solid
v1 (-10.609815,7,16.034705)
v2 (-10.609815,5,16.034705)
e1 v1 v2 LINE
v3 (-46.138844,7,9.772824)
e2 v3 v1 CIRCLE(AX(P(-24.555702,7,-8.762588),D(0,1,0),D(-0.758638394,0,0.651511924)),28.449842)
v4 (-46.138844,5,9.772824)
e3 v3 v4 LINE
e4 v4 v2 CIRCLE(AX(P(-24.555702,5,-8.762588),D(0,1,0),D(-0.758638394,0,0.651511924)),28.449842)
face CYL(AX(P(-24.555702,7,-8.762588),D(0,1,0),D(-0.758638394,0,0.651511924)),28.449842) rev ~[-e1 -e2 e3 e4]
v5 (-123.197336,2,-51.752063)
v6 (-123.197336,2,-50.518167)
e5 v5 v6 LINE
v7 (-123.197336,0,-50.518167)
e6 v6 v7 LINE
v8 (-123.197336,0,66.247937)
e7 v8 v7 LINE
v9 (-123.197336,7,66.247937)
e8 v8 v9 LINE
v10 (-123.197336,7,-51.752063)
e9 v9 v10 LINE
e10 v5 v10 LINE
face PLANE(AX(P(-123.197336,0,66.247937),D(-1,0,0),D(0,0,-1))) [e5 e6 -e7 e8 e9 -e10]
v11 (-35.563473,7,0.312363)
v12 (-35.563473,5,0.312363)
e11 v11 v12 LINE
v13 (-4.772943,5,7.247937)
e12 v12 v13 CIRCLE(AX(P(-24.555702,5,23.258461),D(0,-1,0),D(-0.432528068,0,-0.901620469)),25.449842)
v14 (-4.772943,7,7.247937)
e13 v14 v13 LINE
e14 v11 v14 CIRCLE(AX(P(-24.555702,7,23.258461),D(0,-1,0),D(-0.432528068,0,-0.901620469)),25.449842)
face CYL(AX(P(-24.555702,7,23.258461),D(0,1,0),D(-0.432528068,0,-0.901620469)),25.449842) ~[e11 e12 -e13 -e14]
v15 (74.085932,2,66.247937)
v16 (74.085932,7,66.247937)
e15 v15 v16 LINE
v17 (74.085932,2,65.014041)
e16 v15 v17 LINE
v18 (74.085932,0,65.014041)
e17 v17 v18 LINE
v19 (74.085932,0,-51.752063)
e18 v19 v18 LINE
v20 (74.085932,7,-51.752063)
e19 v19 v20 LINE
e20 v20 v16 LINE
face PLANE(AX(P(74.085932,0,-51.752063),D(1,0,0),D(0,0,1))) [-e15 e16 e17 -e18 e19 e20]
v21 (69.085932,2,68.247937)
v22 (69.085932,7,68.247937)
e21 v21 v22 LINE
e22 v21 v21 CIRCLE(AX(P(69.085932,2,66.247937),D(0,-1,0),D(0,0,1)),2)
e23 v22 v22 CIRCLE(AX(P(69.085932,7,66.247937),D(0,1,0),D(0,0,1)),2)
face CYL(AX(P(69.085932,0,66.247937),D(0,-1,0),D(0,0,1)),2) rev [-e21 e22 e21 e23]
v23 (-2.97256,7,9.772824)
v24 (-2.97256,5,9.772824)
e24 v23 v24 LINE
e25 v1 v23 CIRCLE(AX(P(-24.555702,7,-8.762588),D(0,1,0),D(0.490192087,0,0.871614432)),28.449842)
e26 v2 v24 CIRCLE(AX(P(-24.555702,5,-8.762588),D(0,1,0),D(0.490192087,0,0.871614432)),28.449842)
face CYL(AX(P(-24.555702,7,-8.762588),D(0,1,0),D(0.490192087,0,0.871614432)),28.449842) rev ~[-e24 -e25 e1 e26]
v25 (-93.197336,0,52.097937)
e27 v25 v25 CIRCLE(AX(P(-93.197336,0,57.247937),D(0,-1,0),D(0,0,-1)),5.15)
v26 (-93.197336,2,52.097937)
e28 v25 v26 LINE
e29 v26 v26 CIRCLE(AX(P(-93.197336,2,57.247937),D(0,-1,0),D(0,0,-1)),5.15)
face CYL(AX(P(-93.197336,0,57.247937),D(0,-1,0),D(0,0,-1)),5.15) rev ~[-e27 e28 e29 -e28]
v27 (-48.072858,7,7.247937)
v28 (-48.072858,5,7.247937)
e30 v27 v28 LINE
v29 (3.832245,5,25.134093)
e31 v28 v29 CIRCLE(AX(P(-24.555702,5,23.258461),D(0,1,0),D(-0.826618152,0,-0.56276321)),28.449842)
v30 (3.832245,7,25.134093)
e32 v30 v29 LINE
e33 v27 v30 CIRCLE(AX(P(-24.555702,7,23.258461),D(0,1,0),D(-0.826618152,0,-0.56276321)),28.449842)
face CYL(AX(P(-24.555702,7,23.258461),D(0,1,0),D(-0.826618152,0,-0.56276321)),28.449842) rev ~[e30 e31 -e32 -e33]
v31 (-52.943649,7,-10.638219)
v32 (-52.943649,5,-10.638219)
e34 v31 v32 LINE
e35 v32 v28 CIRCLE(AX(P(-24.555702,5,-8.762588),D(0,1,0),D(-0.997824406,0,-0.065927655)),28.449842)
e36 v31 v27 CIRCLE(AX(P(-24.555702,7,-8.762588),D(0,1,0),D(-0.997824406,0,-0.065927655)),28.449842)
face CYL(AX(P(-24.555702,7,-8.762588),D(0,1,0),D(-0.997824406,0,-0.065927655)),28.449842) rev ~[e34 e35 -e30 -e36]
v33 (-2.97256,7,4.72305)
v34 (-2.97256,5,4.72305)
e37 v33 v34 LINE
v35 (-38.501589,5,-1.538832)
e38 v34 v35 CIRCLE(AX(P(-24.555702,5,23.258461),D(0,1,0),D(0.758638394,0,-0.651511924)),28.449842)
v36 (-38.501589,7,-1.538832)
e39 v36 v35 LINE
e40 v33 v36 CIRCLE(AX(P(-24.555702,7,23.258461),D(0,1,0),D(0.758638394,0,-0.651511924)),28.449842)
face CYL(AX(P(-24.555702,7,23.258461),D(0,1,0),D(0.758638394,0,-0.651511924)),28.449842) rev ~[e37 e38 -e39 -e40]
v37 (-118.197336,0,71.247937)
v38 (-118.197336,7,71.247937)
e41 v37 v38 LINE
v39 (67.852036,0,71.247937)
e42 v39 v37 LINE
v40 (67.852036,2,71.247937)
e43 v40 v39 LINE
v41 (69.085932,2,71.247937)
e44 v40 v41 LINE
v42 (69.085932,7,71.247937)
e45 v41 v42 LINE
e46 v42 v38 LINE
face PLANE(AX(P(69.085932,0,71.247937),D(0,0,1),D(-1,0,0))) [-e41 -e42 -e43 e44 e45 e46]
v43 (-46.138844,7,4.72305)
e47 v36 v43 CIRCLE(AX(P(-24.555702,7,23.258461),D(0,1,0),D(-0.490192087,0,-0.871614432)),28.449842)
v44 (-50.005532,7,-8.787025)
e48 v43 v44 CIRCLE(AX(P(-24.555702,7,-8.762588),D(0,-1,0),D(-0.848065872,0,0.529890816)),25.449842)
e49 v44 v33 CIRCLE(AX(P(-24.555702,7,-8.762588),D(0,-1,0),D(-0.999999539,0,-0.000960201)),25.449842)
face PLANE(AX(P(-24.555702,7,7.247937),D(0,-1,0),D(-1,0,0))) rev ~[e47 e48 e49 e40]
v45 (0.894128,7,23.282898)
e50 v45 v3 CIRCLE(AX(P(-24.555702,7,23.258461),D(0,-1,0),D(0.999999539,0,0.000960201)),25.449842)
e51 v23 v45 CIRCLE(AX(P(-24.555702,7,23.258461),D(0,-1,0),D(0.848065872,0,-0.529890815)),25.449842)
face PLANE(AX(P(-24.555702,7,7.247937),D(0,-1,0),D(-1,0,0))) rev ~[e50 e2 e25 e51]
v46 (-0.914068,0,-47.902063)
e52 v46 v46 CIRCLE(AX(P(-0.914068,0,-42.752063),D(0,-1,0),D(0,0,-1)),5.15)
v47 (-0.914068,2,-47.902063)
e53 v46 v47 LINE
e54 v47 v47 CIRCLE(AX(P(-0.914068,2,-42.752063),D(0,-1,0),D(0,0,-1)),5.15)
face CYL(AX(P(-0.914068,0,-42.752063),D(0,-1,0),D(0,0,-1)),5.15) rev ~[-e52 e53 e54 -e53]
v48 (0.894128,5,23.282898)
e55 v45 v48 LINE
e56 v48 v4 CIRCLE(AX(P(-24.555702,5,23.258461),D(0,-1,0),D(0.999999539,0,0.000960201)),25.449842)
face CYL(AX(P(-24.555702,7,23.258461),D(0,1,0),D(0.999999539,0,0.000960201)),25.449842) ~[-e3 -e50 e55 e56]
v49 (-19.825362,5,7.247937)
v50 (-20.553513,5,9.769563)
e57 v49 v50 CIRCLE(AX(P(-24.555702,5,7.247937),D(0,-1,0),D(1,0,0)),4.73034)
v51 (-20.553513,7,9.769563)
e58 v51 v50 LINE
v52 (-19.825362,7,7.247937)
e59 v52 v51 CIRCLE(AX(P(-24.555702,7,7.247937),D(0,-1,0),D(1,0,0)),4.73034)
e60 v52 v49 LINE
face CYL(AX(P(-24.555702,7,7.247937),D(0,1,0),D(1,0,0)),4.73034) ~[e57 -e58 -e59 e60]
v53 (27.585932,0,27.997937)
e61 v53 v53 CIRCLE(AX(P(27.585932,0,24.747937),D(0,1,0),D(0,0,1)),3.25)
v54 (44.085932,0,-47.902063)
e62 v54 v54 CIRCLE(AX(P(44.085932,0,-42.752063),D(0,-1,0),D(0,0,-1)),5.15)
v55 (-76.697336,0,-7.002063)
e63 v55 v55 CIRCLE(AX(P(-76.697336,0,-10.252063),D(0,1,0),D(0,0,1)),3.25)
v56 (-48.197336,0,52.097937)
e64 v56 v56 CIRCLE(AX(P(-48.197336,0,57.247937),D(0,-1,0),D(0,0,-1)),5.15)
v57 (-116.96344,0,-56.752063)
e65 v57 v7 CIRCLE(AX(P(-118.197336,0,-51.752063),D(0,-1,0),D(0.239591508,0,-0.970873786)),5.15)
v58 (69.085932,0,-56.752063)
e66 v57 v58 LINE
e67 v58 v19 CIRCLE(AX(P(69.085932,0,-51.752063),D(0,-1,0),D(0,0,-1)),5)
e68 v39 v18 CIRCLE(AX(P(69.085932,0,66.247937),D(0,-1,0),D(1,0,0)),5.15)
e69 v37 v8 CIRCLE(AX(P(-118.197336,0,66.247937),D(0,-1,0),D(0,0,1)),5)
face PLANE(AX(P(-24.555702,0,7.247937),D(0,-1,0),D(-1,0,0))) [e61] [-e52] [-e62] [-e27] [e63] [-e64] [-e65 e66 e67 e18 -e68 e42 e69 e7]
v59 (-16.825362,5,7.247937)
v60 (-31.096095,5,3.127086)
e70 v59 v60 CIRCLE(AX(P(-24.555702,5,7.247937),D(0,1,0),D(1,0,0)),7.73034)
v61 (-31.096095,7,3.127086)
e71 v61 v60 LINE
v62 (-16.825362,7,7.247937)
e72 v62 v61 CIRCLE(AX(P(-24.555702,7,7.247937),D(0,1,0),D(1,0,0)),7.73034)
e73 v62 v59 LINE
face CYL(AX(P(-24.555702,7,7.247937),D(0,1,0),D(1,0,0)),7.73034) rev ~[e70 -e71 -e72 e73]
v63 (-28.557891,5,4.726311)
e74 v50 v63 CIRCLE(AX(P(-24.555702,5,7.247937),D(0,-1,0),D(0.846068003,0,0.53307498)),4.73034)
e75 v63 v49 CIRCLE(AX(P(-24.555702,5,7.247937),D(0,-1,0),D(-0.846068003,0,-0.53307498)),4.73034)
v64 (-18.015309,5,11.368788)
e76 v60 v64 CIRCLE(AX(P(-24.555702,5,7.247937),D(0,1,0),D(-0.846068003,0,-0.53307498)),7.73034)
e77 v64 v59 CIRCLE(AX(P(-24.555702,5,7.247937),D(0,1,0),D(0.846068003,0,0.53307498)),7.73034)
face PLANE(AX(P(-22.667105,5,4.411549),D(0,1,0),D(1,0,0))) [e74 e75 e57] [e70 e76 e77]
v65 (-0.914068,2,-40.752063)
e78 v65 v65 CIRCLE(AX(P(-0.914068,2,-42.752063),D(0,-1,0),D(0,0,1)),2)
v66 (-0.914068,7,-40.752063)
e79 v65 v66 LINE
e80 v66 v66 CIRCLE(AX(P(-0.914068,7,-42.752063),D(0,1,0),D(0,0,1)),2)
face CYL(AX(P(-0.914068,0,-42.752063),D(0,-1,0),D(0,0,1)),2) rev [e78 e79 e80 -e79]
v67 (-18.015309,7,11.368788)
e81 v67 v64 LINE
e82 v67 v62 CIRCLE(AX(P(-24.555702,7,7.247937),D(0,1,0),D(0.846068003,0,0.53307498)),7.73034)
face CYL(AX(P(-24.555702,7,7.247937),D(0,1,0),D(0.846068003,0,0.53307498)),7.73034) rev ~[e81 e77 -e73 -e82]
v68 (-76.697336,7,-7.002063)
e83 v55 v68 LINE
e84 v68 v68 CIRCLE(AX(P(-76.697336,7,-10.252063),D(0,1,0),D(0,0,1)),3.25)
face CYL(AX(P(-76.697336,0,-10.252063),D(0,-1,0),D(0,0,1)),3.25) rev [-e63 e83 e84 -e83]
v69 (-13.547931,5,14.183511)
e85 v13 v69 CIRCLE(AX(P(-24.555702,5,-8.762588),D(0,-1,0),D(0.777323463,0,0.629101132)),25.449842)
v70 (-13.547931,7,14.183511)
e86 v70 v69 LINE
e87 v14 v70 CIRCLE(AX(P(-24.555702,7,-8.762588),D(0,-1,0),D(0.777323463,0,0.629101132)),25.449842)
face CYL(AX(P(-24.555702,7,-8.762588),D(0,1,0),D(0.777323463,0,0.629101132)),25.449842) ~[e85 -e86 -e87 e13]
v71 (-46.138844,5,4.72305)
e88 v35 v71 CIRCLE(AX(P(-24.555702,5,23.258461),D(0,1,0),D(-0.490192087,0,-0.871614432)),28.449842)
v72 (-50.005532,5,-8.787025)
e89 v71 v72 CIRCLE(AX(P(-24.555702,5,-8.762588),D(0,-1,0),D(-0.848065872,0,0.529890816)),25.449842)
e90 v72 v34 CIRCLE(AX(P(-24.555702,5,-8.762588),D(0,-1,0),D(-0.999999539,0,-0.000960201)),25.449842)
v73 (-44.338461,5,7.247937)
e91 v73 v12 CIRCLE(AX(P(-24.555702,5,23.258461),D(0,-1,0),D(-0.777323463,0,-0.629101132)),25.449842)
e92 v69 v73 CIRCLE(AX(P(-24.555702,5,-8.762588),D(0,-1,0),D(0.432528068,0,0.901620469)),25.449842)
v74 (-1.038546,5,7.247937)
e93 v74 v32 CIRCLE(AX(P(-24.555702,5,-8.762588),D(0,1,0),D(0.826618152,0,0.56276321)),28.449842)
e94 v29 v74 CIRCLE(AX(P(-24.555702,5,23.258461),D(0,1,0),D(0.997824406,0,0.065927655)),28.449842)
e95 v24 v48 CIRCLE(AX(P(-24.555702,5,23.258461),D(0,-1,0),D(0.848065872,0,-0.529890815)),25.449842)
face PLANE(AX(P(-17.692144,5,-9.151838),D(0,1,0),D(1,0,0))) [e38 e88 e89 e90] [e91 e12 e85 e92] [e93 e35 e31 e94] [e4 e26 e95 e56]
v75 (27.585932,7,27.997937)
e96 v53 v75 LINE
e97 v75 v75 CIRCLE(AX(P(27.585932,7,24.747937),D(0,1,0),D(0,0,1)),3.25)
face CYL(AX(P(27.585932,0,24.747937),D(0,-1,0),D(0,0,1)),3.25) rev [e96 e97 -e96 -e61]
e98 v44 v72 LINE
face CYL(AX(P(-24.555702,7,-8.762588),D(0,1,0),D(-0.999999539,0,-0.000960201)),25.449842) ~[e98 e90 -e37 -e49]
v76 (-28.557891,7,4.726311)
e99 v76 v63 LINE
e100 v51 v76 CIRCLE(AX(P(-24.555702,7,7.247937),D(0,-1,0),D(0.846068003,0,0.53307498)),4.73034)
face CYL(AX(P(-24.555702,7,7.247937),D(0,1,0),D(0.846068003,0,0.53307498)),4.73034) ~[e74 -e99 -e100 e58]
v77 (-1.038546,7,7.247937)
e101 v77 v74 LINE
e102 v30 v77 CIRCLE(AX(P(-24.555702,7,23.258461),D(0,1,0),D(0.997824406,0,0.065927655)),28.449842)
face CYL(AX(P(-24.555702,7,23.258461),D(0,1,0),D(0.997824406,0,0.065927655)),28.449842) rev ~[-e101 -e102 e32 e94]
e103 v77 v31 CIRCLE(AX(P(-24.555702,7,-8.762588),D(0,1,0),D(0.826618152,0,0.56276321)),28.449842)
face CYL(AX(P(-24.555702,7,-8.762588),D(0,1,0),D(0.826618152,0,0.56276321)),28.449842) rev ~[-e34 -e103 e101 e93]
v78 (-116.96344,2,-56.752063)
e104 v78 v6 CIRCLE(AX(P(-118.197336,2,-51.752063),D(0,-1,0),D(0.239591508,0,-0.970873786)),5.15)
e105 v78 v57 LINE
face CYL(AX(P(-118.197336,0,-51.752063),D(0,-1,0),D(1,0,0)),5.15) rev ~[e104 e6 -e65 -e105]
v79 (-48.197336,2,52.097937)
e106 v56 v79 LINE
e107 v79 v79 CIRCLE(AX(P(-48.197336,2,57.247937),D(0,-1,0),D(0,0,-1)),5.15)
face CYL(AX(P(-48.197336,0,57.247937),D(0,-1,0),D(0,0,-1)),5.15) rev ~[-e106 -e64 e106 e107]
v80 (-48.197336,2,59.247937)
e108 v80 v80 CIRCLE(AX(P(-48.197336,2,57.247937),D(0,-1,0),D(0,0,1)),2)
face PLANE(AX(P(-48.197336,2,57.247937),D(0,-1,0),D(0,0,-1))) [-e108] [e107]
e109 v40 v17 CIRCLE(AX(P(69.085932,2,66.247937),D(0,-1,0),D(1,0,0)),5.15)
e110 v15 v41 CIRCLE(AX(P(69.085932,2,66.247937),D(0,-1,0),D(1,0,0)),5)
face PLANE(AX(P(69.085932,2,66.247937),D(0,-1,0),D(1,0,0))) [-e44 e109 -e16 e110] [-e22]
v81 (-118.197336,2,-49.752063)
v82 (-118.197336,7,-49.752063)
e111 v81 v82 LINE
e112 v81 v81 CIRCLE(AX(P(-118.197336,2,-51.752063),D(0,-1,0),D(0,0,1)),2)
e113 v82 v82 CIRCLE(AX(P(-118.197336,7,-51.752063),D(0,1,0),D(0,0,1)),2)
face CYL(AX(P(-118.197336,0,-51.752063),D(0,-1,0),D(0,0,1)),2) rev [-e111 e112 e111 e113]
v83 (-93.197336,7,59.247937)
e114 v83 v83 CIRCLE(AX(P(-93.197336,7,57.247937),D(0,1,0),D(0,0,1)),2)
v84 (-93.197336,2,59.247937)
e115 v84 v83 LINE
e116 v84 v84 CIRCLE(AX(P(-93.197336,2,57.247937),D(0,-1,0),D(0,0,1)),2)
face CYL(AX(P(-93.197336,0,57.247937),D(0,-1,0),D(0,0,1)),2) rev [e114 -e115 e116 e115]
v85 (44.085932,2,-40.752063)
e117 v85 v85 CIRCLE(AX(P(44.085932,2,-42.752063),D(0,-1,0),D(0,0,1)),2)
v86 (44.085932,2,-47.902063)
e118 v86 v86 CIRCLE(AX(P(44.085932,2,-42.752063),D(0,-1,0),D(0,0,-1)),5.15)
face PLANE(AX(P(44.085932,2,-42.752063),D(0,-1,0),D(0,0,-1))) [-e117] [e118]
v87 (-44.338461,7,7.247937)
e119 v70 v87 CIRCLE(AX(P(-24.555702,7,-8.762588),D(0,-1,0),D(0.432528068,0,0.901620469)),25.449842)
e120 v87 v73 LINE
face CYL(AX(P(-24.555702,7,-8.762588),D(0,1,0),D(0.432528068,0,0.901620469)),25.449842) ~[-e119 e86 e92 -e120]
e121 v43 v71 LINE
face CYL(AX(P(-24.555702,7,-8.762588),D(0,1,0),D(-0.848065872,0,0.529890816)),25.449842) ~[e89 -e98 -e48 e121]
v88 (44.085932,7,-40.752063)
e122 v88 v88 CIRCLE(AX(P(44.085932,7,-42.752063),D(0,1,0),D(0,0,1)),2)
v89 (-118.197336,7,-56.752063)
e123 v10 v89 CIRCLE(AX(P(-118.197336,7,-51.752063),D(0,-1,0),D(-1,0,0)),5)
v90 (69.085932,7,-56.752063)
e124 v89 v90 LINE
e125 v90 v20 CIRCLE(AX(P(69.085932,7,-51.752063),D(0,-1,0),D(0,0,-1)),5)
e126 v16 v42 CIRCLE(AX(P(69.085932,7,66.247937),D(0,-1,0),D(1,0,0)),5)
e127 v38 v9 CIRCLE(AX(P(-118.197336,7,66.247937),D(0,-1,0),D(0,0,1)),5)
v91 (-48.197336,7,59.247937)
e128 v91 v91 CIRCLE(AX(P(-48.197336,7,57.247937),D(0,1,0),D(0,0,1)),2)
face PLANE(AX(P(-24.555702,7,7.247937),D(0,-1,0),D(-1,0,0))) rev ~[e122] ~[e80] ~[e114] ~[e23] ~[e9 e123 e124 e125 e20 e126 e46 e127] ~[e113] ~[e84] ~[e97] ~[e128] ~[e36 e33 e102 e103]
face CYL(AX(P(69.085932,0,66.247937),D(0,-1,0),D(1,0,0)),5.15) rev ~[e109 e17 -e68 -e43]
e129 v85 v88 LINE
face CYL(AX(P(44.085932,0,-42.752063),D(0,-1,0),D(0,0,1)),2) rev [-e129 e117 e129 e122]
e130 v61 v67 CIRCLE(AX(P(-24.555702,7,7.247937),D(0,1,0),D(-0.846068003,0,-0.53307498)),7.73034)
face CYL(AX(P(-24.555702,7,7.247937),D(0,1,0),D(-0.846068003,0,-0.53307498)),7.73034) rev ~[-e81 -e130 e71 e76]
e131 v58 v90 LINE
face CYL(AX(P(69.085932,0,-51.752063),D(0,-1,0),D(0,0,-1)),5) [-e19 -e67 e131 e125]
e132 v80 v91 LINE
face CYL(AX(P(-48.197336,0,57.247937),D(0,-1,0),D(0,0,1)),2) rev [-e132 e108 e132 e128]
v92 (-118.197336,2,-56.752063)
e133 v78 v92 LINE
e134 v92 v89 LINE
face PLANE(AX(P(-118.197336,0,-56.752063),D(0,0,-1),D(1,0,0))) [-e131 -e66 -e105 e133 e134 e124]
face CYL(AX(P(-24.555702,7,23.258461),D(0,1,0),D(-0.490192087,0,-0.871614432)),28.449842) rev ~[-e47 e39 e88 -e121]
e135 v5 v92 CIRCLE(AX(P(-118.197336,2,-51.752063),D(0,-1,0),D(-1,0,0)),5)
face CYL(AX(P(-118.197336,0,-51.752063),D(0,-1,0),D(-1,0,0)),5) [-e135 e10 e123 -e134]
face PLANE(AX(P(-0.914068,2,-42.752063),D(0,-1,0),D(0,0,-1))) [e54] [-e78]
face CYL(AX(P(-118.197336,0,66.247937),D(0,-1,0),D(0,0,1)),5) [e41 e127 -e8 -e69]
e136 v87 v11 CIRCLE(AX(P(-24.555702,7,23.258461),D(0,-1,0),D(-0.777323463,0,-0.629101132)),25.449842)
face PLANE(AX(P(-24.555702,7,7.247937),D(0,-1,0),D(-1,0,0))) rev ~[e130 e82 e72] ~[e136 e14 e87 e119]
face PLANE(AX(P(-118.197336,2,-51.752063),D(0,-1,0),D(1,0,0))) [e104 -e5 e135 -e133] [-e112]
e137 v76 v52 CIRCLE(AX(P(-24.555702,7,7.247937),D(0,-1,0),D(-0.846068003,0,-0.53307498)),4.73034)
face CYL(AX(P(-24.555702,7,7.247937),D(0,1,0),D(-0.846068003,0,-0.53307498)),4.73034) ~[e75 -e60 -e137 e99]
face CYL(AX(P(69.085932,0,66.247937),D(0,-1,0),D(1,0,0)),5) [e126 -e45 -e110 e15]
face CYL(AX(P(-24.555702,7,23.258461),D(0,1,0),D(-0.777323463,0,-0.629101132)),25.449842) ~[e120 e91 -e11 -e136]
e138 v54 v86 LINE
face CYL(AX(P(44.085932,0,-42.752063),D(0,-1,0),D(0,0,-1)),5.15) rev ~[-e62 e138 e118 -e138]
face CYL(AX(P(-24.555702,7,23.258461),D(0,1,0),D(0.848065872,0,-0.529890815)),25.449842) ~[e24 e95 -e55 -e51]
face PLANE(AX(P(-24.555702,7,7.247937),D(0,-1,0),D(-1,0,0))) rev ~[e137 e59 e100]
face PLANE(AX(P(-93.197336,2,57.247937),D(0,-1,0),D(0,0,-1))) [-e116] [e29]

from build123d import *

# Parameters (mm, degrees)
SKETCH1_R           = 2
SKETCH1_R_2         = 3.25
BOSS_EXTRUDE1_DEPTH = 7
SKETCH2_R           = 5.15
CUT_EXTRUDE1_DEPTH  = 2
CUT_EXTRUDE3_DEPTH  = 2


with BuildPart() as part:
    # Sketch1 → Boss-Extrude1 (new body)
    with BuildSketch(Plane(origin=(0, 0, 0), x_dir=(1, 0, 0), z_dir=(0, 1, 0))):
        with BuildLine():
            Line((-118.197336116, 56.752063188), (69.085931957, 56.752063188))
            ThreePointArc((69.085931957, 56.752063188), (72.621465863, 55.287597094), (74.085931957, 51.752063188))
            Line((74.085931957, 51.752063188), (74.085931957, -66.247936812))
            ThreePointArc((74.085931957, -66.247936812), (72.621465863, -69.783470718), (69.085931957, -71.247936812))
            Line((69.085931957, -71.247936812), (-118.197336116, -71.247936812))
            ThreePointArc((-118.197336116, -71.247936812), (-121.732870022, -69.783470718), (-123.197336116, -66.247936812))
            Line((-123.197336116, -66.247936812), (-123.197336116, 51.752063188))
            ThreePointArc((-123.197336116, 51.752063188), (-121.732870022, 55.287597094), (-118.197336116, 56.752063188))
        make_face()
        with Locations(Location((-118.197336116, 51.752063188, 0), (0, 0, 270))):
            Circle(SKETCH1_R, mode=Mode.SUBTRACT)
        with Locations(Location((69.085931957, -66.247936812, 0), (0, 0, 270))):
            Circle(SKETCH1_R, mode=Mode.SUBTRACT)
        with Locations(Location((44.085931957, 42.752063188, 0), (0, 0, 270))):
            Circle(SKETCH1_R, mode=Mode.SUBTRACT)
        with Locations(Location((-0.914068043, 42.752063188, 0), (0, 0, 270))):
            Circle(SKETCH1_R, mode=Mode.SUBTRACT)
        with Locations(Location((-93.197336116, -57.247936812, 0), (0, 0, 270))):
            Circle(SKETCH1_R, mode=Mode.SUBTRACT)
        with Locations(Location((-48.197336116, -57.247936812, 0), (0, 0, 270))):
            Circle(SKETCH1_R, mode=Mode.SUBTRACT)
        with Locations(Location((-76.697336116, 10.252063188, 0), (0, 0, 270))):
            Circle(SKETCH1_R_2, mode=Mode.SUBTRACT)
        with Locations(Location((27.585931957, -24.747936812, 0), (0, 0, 270))):
            Circle(SKETCH1_R_2, mode=Mode.SUBTRACT)
    extrude(amount=BOSS_EXTRUDE1_DEPTH)

    # Sketch2 → Cut-Extrude1 (cut)
    with BuildSketch(Plane.XZ):
        with Locations((-118.197336116, -51.752063188)):
            Circle(SKETCH2_R)
        with Locations(Location((-0.914068043, -42.752063188, 0), (0, 0, 270))):
            Circle(SKETCH2_R)
        with Locations(Location((44.085931957, -42.752063188, 0), (0, 0, 270))):
            Circle(SKETCH2_R)
        with Locations((69.085931957, 66.247936812)):
            Circle(SKETCH2_R)
        with Locations(Location((-48.197336116, 57.247936812, 0), (0, 0, 270))):
            Circle(SKETCH2_R)
        with Locations(Location((-93.197336116, 57.247936812, 0), (0, 0, 270))):
            Circle(SKETCH2_R)
    extrude(amount=-CUT_EXTRUDE1_DEPTH, mode=Mode.SUBTRACT)

    # Sketch4 → Cut-Extrude3 (cut)
    with BuildSketch(Plane(origin=(0, 7, 0), x_dir=(1, 0, 0), z_dir=(0, 1, 0))):
        with BuildLine():
            ThreePointArc((-16.825362278, -7.247936812), (-22.411093503, 0.178960757), (-31.096095238, -3.127086078))
            Line((-31.096095238, -3.127086078), (-28.557891229, -4.726311018))
            ThreePointArc((-28.557891229, -4.726311018), (-23.243375898, -2.703279), (-19.825362278, -7.247936812))
            ThreePointArc((-19.825362278, -7.247936812), (-20.011044267, -8.560262993), (-20.553512929, -9.769562607))
            Line((-20.553512929, -9.769562607), (-18.01530892, -11.368787546))
            ThreePointArc((-18.01530892, -11.368787546), (-17.12880451, -9.392545389), (-16.825362278, -7.247936812))
        make_face()
        with BuildLine():
            Line((-28.557891229, -4.726311018), (-31.096095238, -3.127086078))
            ThreePointArc((-31.096095238, -3.127086078), (-28.676552813, -13.788329971), (-18.01530892, -11.368787546))
            Line((-18.01530892, -11.368787546), (-20.553512929, -9.769562607))
            ThreePointArc((-20.553512929, -9.769562607), (-27.077327874, -11.250125962), (-28.557891229, -4.726311018))
        make_face()
        with BuildLine():
            ThreePointArc((-1.038546315, -7.247936812), (-15.286948513, 35.660240122), (-52.943648692, 10.638218929))
            Line((-52.943648692, 10.638218929), (-50.005532279, 8.78702453))
            ThreePointArc((-50.005532279, 8.78702453), (-17.529440865, 33.223292942), (-2.972559683, -4.723049934))
            ThreePointArc((-2.972559683, -4.723049934), (-19.617614772, 4.759547304), (-38.501589456, 1.538831635))
            Line((-38.501589456, 1.538831635), (-35.563473042, -0.312362764))
            ThreePointArc((-35.563473042, -0.312362764), (-18.963238247, 1.569321693), (-4.772942827, -7.247936812))
            ThreePointArc((-4.772942827, -7.247936812), (-8.774709253, -11.203752107), (-13.547931116, -14.18351086))
            Line((-13.547931116, -14.18351086), (-10.609814702, -16.034705259))
            ThreePointArc((-10.609814702, -16.034705259), (-6.517387874, -13.237701677), (-2.972559683, -9.77282369))
            ThreePointArc((-2.972559683, -9.77282369), (-0.088261351, -16.255690409), (0.89412812, -23.282898154))
            Line((0.89412812, -23.282898154), (3.832244534, -25.134092553))
            ThreePointArc((3.832244534, -25.134092553), (2.894499286, -15.78317183), (-1.038546315, -7.247936812))
        make_face()
        with BuildLine():
            Line((-50.005532279, 8.78702453), (-52.943648692, 10.638218929))
            ThreePointArc((-52.943648692, 10.638218929), (-52.005903444, 1.287298206), (-48.072857843, -7.247936812))
            ThreePointArc((-48.072857843, -7.247936812), (-33.824455645, -50.156113746), (3.832244534, -25.134092553))
            Line((3.832244534, -25.134092553), (0.89412812, -23.282898154))
            ThreePointArc((0.89412812, -23.282898154), (-31.581963293, -47.719166566), (-46.138844475, -9.77282369))
            ThreePointArc((-46.138844475, -9.77282369), (-29.493789386, -19.255420928), (-10.609814702, -16.034705259))
            Line((-10.609814702, -16.034705259), (-13.547931116, -14.18351086))
            ThreePointArc((-13.547931116, -14.18351086), (-30.148165911, -16.065195317), (-44.338461331, -7.247936812))
            ThreePointArc((-44.338461331, -7.247936812), (-40.336694905, -3.292121517), (-35.563473042, -0.312362764))
            Line((-35.563473042, -0.312362764), (-38.501589456, 1.538831635))
            ThreePointArc((-38.501589456, 1.538831635), (-42.594016284, -1.258171947), (-46.138844475, -4.723049934))
            ThreePointArc((-46.138844475, -4.723049934), (-49.023142808, 1.759816785), (-50.005532279, 8.78702453))
        make_face()
    extrude(amount=-CUT_EXTRUDE3_DEPTH, mode=Mode.SUBTRACT)


solid = part.part
